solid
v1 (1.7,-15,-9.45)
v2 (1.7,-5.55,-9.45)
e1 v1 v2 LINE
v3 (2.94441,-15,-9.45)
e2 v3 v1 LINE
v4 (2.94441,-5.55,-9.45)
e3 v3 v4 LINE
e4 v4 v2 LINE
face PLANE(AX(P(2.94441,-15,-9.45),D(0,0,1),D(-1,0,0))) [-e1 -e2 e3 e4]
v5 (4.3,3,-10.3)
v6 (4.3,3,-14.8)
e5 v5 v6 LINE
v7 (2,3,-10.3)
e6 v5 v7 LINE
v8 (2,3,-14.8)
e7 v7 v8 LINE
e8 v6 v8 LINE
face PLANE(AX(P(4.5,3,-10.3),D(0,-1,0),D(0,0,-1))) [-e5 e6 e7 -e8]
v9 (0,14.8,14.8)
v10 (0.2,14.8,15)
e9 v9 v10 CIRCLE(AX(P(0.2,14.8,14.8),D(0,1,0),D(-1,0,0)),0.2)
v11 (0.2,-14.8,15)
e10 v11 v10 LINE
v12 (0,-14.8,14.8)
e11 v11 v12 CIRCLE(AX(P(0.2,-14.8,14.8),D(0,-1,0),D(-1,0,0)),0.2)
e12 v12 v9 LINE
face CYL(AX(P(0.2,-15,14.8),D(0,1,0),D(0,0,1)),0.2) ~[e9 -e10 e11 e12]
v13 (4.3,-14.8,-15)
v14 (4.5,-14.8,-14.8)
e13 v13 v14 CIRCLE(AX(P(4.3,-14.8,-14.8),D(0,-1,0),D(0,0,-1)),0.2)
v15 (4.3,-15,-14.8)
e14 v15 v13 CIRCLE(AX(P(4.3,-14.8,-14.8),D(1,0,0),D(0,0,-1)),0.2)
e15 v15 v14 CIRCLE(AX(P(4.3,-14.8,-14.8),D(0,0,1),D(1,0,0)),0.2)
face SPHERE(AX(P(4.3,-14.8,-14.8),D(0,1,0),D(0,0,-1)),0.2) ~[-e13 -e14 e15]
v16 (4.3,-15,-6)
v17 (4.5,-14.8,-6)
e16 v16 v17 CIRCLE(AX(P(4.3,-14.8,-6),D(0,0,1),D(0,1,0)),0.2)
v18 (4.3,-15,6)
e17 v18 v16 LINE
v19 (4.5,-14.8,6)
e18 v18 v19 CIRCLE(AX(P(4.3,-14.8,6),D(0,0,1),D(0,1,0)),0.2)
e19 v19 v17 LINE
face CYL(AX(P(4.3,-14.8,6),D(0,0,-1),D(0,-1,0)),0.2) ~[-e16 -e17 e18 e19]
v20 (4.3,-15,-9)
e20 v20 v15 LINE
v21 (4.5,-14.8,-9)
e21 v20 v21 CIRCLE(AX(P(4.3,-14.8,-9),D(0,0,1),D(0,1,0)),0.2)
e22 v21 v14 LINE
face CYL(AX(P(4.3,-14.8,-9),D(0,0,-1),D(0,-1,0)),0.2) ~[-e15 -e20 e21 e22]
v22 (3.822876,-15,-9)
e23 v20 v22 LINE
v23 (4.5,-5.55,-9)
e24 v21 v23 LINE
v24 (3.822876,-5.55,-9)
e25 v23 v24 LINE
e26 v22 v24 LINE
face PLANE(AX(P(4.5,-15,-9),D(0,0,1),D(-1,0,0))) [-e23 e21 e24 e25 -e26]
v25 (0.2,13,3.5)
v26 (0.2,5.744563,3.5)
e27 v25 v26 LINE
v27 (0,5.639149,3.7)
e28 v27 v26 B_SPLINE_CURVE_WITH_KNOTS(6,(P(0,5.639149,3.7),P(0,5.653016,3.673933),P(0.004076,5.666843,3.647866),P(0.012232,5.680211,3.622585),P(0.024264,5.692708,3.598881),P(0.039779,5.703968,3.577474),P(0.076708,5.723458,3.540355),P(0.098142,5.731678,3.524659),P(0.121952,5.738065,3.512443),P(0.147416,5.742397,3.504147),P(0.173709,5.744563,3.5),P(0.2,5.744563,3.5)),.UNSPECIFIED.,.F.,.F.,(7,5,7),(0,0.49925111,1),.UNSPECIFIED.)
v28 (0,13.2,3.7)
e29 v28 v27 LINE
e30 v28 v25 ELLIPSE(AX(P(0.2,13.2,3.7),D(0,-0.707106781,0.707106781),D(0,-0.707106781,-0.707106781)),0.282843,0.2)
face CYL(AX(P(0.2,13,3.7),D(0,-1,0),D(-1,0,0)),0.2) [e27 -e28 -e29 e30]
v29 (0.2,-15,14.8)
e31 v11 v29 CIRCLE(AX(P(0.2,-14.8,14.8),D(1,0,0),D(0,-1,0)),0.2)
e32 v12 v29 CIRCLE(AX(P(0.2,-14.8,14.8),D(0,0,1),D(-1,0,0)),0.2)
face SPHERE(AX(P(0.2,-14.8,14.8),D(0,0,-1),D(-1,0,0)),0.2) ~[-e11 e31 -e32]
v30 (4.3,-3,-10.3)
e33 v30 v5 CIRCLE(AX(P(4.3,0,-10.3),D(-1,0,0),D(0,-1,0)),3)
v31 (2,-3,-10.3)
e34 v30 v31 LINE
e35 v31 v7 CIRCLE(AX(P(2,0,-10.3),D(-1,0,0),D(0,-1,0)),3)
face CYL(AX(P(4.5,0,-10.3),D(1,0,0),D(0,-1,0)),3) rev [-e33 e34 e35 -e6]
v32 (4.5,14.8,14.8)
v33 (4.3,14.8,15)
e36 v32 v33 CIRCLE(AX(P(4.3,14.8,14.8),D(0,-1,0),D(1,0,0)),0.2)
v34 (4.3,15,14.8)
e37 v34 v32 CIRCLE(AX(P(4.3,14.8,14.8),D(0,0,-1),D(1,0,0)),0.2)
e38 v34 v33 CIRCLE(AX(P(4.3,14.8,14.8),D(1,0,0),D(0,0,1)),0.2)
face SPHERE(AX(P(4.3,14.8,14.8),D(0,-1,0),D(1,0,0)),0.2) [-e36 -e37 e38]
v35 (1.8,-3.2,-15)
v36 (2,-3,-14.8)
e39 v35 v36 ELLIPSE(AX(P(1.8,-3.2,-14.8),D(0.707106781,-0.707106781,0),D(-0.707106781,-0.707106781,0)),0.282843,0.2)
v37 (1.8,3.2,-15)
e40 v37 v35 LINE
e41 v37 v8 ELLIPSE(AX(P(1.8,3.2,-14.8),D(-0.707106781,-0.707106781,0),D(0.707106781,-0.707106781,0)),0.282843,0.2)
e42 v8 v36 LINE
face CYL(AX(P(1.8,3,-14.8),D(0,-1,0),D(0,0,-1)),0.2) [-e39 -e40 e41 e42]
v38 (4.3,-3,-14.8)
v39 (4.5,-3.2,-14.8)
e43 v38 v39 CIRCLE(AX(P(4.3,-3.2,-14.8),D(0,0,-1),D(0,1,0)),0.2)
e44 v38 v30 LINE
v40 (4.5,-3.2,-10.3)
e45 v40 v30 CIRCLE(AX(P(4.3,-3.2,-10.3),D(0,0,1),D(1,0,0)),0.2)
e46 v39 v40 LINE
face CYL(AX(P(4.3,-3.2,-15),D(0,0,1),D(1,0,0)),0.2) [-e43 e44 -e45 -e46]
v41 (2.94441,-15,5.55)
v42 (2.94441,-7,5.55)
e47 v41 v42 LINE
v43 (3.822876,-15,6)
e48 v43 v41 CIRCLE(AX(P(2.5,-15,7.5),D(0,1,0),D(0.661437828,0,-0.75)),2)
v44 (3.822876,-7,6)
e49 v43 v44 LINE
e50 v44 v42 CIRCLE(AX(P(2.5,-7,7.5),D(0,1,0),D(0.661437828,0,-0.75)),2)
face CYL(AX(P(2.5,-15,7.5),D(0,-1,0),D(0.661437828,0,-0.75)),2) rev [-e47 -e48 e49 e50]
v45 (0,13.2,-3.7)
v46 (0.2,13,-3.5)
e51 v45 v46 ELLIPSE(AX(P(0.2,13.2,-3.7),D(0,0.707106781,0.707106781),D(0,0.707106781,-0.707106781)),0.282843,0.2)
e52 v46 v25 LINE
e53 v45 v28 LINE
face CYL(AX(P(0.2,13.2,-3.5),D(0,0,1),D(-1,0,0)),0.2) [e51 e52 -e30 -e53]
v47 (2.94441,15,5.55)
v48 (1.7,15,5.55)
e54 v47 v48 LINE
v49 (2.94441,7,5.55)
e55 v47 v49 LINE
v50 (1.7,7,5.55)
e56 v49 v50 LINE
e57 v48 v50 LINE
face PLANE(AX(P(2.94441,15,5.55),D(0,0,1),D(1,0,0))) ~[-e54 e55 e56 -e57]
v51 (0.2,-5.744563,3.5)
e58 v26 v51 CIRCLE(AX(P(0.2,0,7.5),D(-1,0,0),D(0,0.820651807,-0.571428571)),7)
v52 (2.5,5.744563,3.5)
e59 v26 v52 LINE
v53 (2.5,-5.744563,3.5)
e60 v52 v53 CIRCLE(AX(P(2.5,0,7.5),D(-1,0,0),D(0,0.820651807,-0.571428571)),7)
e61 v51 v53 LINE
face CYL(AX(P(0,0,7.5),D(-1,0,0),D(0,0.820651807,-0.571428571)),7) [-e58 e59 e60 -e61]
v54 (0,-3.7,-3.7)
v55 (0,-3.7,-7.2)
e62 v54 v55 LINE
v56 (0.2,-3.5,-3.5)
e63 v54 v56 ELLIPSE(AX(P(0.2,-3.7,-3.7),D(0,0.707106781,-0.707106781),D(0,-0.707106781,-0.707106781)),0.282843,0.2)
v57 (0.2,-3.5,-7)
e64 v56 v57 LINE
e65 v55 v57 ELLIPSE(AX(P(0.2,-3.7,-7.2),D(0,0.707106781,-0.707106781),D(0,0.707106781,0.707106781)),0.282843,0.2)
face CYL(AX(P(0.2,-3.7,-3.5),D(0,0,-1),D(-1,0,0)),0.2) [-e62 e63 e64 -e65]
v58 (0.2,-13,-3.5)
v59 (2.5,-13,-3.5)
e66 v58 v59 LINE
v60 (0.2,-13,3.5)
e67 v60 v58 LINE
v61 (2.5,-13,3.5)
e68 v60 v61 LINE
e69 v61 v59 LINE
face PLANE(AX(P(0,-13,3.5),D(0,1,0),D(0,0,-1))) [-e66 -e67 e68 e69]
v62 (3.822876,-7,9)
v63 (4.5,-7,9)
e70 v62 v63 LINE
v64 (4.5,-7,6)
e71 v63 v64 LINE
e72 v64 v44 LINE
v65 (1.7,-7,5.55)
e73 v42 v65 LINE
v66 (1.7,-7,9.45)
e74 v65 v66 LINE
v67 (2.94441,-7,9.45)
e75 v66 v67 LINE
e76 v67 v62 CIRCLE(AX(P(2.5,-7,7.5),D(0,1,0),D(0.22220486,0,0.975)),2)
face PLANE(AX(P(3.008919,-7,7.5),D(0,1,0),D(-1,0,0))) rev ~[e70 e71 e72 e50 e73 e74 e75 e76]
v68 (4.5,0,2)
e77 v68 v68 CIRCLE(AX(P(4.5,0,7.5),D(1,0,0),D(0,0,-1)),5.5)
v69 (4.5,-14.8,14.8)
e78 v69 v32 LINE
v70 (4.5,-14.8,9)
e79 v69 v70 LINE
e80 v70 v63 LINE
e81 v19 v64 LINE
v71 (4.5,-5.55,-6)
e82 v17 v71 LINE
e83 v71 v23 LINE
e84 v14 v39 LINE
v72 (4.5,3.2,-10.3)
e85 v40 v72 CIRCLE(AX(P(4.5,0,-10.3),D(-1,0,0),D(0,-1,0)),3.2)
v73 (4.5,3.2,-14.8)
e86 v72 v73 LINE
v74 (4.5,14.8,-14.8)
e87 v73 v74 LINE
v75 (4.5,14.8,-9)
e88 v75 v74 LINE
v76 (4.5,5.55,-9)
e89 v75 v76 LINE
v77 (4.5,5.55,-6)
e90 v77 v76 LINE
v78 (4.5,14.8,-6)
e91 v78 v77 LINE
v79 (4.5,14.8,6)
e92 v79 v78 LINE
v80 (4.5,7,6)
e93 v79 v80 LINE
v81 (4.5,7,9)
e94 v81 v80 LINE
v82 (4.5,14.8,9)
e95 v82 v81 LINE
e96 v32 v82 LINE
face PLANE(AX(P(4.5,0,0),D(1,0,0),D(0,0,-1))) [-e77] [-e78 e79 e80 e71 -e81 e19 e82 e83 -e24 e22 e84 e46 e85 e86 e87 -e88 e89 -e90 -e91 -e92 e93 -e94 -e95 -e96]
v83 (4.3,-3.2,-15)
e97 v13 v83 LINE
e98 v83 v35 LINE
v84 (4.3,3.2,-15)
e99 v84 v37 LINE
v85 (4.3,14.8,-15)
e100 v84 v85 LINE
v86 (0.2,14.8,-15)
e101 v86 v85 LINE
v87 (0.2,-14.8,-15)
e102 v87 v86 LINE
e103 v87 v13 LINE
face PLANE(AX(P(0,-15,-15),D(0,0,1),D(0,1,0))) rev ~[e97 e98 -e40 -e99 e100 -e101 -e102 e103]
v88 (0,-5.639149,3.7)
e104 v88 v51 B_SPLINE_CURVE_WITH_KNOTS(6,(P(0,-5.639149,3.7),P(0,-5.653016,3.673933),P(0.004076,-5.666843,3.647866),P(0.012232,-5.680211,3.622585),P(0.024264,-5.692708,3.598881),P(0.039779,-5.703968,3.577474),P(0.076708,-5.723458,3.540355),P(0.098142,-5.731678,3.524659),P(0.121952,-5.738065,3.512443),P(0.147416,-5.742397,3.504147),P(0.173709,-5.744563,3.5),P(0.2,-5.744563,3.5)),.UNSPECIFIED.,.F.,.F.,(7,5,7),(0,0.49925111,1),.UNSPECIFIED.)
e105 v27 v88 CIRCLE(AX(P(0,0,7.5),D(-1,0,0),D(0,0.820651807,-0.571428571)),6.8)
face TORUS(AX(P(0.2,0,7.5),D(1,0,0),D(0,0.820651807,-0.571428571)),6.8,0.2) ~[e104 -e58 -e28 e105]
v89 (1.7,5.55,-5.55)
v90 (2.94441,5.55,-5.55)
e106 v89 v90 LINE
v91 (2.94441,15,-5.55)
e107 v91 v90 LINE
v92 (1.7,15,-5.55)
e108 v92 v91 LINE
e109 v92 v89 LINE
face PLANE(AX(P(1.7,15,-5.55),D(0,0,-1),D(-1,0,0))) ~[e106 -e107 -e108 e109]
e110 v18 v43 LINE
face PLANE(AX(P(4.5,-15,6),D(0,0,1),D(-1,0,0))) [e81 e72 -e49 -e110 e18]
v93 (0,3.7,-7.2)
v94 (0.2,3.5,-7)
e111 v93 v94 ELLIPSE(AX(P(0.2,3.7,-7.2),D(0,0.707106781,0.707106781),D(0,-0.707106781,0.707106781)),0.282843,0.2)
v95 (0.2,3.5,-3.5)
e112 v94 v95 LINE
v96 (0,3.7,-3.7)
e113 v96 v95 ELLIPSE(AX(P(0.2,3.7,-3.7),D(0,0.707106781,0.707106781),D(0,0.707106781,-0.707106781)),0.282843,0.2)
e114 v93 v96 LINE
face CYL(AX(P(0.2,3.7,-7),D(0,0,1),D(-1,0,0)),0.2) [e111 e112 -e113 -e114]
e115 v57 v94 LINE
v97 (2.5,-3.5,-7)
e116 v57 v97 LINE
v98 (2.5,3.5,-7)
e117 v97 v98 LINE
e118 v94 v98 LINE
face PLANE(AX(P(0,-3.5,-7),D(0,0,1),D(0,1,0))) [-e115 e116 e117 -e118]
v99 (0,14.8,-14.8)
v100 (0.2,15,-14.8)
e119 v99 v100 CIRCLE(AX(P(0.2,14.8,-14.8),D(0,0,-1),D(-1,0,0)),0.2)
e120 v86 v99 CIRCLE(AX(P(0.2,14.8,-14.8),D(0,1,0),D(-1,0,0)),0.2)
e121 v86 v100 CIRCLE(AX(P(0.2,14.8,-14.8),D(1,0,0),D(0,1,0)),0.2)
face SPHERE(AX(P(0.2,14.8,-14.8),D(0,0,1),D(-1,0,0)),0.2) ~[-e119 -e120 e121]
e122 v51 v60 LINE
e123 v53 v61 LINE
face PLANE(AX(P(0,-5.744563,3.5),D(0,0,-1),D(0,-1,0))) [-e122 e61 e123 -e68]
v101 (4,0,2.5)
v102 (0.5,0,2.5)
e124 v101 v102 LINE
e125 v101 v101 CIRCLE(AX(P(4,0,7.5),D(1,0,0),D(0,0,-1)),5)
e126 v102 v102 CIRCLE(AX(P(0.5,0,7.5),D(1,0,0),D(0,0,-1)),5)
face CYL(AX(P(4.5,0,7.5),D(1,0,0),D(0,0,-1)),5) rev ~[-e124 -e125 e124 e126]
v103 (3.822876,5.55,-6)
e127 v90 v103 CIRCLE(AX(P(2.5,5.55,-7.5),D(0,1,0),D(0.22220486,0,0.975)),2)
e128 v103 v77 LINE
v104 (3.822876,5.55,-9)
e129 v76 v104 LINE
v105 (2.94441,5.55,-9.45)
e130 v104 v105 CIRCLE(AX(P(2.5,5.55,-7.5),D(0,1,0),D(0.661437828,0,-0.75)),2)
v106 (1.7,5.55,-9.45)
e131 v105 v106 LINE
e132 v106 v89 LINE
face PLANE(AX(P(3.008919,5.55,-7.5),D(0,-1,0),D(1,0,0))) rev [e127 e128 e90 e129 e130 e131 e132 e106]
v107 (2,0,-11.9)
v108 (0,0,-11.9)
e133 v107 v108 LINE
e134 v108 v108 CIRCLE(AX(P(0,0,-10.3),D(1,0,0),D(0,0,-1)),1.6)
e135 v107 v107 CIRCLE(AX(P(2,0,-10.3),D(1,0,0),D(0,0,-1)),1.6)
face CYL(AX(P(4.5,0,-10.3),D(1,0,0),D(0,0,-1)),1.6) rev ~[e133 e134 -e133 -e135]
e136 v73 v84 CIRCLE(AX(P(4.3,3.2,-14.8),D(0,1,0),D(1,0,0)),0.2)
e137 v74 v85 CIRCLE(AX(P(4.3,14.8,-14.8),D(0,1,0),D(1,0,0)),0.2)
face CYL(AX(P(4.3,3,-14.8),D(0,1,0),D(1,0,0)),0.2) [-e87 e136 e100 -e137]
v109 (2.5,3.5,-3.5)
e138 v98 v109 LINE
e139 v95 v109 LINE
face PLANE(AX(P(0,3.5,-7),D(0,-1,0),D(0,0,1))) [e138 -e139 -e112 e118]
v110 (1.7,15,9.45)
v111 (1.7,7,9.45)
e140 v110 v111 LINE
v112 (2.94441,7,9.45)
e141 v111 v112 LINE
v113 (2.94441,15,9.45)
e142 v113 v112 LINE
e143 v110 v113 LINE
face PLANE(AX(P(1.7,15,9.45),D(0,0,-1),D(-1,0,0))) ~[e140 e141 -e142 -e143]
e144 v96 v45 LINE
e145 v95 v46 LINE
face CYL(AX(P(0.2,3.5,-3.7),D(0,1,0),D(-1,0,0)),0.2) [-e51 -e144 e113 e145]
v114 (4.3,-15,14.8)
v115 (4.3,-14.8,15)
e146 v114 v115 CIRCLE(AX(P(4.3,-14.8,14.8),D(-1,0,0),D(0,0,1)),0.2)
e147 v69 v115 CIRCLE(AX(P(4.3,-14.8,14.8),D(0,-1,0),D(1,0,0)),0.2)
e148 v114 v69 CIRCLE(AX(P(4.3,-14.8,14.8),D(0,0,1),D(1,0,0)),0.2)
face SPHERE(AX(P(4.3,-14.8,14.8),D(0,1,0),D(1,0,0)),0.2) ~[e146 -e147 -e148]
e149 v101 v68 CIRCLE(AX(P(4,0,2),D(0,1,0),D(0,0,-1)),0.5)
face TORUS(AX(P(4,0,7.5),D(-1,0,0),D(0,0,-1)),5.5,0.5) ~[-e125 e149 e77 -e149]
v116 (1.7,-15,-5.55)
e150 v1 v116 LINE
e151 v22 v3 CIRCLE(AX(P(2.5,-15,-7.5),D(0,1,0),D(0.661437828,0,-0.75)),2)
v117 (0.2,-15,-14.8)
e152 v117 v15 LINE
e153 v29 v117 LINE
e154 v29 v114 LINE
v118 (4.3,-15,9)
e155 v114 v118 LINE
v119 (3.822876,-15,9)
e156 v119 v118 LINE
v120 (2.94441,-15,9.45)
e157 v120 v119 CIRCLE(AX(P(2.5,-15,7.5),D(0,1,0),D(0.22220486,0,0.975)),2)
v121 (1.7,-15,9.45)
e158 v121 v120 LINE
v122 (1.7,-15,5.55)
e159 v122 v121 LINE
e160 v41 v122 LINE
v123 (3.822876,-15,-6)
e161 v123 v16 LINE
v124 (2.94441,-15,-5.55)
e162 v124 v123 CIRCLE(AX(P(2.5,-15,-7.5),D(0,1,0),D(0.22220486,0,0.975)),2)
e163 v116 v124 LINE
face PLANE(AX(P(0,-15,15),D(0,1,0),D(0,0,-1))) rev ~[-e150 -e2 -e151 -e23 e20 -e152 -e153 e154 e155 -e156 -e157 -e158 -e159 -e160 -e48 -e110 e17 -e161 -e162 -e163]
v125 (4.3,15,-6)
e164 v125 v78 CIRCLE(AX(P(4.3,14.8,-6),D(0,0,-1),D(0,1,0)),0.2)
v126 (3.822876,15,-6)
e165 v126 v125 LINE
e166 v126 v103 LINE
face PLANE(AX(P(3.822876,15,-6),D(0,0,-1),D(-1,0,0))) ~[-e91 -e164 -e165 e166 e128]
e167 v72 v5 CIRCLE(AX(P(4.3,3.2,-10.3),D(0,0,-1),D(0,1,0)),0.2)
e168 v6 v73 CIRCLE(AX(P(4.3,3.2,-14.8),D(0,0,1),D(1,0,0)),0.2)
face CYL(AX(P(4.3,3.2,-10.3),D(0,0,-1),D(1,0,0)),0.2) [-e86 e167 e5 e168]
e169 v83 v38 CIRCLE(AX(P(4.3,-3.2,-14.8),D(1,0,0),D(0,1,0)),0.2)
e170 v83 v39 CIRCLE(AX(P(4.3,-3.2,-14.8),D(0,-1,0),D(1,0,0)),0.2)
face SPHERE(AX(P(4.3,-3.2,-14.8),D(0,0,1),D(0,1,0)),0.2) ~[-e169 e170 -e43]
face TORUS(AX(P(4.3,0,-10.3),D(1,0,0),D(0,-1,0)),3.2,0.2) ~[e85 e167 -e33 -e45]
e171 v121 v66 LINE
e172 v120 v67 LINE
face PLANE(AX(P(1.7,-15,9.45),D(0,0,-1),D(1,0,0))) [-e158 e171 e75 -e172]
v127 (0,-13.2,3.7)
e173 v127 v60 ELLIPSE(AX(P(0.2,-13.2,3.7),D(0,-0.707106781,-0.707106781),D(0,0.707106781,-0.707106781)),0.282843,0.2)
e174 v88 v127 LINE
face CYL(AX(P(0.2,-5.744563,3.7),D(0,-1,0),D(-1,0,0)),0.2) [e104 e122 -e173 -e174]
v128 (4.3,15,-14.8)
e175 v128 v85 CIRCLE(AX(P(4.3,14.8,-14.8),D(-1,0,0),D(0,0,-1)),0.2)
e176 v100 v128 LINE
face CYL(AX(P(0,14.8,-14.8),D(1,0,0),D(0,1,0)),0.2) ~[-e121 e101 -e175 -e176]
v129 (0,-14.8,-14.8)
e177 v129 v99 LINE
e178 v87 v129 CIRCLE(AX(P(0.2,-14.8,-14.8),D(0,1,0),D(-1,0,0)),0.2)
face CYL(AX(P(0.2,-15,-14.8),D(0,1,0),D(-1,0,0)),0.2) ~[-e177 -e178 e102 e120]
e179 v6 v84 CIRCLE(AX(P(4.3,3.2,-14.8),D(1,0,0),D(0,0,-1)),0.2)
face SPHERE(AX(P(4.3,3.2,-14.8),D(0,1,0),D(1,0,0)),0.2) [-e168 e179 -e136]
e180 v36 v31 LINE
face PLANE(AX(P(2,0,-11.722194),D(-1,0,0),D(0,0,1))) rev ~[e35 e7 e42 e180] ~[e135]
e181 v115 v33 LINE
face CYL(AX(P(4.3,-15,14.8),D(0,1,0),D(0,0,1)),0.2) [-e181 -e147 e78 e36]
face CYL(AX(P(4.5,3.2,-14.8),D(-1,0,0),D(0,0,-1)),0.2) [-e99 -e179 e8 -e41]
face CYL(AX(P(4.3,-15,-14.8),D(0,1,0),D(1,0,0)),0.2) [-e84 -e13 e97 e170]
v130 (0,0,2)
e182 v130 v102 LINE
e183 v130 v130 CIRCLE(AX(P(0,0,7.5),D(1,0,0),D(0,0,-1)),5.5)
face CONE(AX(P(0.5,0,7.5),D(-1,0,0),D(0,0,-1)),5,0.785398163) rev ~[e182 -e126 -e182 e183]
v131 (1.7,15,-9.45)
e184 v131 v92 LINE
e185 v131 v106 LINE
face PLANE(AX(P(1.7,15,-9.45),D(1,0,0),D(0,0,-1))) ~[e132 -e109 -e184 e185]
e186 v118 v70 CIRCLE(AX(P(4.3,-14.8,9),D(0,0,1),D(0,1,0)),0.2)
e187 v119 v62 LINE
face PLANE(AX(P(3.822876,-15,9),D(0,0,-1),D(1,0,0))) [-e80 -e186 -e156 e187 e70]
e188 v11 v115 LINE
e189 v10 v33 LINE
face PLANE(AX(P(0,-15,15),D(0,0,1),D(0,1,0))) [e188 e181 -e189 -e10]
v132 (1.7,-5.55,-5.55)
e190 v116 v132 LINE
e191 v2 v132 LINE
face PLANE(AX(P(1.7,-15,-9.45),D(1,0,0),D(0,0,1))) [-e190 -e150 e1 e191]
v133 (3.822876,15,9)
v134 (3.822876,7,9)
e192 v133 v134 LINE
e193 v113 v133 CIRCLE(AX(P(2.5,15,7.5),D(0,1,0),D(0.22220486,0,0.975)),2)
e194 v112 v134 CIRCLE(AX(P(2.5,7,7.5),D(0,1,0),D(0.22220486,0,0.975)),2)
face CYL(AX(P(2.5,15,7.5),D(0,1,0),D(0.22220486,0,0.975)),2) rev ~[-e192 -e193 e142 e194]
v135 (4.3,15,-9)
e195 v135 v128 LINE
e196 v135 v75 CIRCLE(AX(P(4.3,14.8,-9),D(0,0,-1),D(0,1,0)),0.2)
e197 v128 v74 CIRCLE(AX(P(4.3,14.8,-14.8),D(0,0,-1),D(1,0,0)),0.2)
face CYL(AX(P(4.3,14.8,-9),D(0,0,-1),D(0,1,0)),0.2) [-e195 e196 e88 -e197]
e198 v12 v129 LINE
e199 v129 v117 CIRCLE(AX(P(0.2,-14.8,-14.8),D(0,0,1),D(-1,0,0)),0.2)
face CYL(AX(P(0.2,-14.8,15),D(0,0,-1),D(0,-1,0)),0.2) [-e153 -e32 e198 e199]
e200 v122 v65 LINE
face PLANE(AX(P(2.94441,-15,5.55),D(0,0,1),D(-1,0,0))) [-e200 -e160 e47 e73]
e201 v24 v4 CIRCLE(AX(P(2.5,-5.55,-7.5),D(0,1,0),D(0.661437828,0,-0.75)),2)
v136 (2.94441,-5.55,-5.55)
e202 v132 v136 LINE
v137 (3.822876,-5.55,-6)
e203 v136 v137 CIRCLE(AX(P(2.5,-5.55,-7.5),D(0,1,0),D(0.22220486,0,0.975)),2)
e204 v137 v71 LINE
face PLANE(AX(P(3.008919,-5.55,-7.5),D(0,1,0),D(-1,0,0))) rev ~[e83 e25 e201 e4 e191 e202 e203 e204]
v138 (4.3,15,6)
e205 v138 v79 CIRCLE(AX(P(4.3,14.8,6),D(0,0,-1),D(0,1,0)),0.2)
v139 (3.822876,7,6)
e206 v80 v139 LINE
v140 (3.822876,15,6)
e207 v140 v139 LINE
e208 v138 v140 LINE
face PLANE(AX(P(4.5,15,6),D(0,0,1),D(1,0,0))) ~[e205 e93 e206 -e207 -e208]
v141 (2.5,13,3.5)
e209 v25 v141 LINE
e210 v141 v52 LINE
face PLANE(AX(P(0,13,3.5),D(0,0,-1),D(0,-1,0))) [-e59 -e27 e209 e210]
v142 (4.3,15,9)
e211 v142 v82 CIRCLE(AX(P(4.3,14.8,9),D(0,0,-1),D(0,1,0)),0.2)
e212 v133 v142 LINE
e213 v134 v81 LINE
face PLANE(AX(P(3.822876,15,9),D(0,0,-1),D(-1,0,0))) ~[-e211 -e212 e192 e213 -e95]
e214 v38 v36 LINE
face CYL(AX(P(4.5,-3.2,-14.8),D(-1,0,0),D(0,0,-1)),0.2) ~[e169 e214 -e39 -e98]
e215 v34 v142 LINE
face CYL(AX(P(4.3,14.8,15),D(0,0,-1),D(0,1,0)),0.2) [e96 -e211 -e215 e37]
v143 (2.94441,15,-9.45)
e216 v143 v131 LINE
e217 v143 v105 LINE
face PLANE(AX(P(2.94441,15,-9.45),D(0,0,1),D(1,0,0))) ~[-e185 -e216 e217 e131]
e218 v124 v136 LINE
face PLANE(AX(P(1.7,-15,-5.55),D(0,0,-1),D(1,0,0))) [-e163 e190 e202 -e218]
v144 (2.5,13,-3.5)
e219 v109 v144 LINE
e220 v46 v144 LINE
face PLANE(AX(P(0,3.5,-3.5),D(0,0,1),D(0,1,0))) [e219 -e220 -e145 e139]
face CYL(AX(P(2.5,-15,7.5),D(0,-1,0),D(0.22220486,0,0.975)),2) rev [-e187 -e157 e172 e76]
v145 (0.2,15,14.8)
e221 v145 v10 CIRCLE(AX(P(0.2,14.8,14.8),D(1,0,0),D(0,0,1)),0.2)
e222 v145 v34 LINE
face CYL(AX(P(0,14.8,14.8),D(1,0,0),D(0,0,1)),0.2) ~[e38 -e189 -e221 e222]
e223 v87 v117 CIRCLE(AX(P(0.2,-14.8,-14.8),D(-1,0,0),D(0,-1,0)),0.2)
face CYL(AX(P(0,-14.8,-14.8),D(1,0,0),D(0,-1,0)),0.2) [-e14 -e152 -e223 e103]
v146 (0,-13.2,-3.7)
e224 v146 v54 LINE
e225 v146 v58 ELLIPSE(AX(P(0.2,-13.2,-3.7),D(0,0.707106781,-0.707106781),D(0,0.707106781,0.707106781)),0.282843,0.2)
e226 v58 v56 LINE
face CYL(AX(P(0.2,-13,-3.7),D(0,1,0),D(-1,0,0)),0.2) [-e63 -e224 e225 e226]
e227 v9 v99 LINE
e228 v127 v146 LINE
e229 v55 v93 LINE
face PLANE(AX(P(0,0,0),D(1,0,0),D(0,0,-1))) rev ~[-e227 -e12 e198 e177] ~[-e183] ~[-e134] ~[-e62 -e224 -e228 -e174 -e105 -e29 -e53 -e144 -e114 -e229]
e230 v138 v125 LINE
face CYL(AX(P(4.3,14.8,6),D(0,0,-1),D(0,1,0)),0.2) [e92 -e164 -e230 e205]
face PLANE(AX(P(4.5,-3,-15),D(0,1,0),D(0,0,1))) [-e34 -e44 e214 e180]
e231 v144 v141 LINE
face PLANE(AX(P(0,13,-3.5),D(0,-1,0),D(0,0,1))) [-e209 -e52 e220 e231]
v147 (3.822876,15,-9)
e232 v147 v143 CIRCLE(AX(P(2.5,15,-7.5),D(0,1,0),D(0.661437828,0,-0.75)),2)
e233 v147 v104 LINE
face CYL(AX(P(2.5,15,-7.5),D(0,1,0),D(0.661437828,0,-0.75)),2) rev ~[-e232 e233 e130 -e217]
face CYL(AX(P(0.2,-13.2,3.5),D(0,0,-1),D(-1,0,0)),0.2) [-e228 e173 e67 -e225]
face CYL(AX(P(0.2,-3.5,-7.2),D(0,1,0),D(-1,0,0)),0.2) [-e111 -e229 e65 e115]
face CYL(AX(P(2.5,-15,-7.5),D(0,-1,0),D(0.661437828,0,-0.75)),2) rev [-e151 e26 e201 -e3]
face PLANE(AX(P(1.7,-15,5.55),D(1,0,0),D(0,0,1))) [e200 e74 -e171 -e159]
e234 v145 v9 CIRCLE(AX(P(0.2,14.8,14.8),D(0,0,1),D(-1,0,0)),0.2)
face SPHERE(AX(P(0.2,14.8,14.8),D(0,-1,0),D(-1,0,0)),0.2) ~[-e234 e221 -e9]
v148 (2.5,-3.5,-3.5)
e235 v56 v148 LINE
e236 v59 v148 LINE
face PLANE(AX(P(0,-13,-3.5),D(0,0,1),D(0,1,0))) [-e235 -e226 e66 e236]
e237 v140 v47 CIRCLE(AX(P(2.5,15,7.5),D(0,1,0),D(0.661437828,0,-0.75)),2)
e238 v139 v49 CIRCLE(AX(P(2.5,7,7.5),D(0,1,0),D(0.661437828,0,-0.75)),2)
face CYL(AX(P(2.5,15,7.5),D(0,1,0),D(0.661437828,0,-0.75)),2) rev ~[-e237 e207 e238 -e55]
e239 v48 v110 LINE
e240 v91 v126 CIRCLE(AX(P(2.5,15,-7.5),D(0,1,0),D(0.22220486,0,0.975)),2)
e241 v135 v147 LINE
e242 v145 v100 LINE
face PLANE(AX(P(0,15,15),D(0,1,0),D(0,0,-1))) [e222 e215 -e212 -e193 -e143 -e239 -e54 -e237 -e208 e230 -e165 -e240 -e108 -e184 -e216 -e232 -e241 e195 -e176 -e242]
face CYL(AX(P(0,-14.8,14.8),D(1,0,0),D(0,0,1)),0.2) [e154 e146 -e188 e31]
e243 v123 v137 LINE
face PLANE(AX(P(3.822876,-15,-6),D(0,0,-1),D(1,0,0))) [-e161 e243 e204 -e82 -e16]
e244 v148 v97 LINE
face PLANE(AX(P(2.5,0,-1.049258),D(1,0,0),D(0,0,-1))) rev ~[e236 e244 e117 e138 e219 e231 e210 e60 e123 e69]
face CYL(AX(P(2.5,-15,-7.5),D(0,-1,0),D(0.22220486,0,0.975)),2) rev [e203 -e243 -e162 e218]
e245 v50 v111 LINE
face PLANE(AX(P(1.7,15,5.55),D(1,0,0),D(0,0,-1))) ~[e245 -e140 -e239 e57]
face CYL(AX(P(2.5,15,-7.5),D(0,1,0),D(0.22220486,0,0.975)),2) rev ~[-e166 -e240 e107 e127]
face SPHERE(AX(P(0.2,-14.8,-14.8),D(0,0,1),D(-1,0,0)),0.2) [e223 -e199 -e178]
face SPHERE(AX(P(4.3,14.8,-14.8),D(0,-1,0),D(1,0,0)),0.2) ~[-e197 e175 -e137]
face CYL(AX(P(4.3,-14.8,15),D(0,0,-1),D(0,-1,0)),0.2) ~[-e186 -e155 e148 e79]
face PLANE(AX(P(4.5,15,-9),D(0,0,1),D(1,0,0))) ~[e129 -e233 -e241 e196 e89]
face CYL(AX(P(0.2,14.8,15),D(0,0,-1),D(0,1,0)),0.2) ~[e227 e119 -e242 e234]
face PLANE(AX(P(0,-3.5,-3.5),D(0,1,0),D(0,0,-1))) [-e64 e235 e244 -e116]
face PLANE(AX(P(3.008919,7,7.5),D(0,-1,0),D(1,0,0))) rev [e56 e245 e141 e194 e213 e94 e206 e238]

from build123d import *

# Parameters (mm, degrees)
SKETCH_1_W          = 30
SKETCH_1_H          = 30
EXTRUDE_1_DEPTH     = 4.5
SKETCH_2_R          = 5
SKETCH_2_R_2        = 1.6
CUT_EXTRUDE_1_DEPTH = 22.685248442
CUT_EXTRUDE_2_DEPTH = 2.5
CUT_EXTRUDE_3_DEPTH = 8
CUT_EXTRUDE_4_DEPTH = 9.45
CUT_EXTRUDE_5_DEPTH = 2.5
FILLET_1_R          = 0.2
FILLET_2_R          = 0.2
CHAMFER_1_SIZE      = 0.5
FILLET_3_R          = 0.5


with BuildPart() as part:
    # 草图1 → 凸台-拉伸1 (new body)
    with BuildSketch(Plane(origin=(0, 0, 0), x_dir=(0, 0, -1), z_dir=(1, 0, 0))):
        Rectangle(SKETCH_1_W, SKETCH_1_H)
    extrude(amount=EXTRUDE_1_DEPTH)

    # 草图2 → 切除-拉伸1 (cut, through all)
    with BuildSketch(Plane(origin=(4.5, 0, 0), x_dir=(0, 0, -1), z_dir=(1, 0, 0))):
        with Locations((-7.5, 0)):
            Circle(SKETCH_2_R)
        with Locations((10.3, 0)):
            Circle(SKETCH_2_R_2)
    extrude(amount=-CUT_EXTRUDE_1_DEPTH, mode=Mode.SUBTRACT)

    # 草图3 → 切除-拉伸2 (cut)
    with BuildSketch(Plane(origin=(4.5, 0, 0), x_dir=(0, 0, -1), z_dir=(1, 0, 0))):
        with BuildLine():
            Line((10.3, 3), (15, 3))
            Line((15, 3), (15, -3))
            Line((15, -3), (10.3, -3))
            ThreePointArc((10.3, -3), (7.3, 0), (10.3, 3))
        make_face()
    extrude(amount=-CUT_EXTRUDE_2_DEPTH, mode=Mode.SUBTRACT)

    # 草图4 → 切除-拉伸3 (cut)
    with BuildSketch(Plane.XZ.offset(15)):
        with BuildLine():
            Line((1.7, 5.55), (1.7, 9.45))
            Line((1.7, 9.45), (2.944409721, 9.45))
            ThreePointArc((2.944409721, 9.45), (3.411838473, 9.280042303), (3.822875656, 9))
            Line((3.822875656, 9), (4.5, 9))
            Line((4.5, 9), (4.5, 6))
            Line((4.5, 6), (3.822875656, 6))
            ThreePointArc((3.822875656, 6), (3.411838473, 5.719957697), (2.944409721, 5.55))
            Line((2.944409721, 5.55), (1.7, 5.55))
        make_face()
    cut_extrude_3 = extrude(amount=-CUT_EXTRUDE_3_DEPTH, mode=Mode.SUBTRACT)

    # 镜向1: 切除-拉伸3 across plane
    add(cut_extrude_3.mirror(Plane.ZX), mode=Mode.SUBTRACT)

    # 草图5 → 切除-拉伸4 (cut)
    with BuildSketch(Plane.XZ.offset(15)):
        with BuildLine():
            Line((1.7, -9.45), (1.7, -5.55))
            Line((1.7, -5.55), (2.944409721, -5.55))
            ThreePointArc((2.944409721, -5.55), (3.411838473, -5.719957697), (3.822875656, -6))
            Line((3.822875656, -6), (4.5, -6))
            Line((4.5, -6), (4.5, -9))
            Line((4.5, -9), (3.822875656, -9))
            ThreePointArc((3.822875656, -9), (3.411838473, -9.280042303), (2.944409721, -9.45))
            Line((2.944409721, -9.45), (1.7, -9.45))
        make_face()
    cut_extrude_4 = extrude(amount=-CUT_EXTRUDE_4_DEPTH, mode=Mode.SUBTRACT)

    # 镜向2: 切除-拉伸4 across plane
    add(cut_extrude_4.mirror(Plane.ZX), mode=Mode.SUBTRACT)

    # 草图6 → 切除-拉伸5 (cut)
    with BuildSketch(Plane.ZY):
        with BuildLine():
            Line((-3.5, 13), (3.5, 13))
            Line((3.5, 13), (3.5, 5.744562647))
            ThreePointArc((3.5, 5.744562647), (0.5, 0), (3.5, -5.744562647))
            Line((3.5, -5.744562647), (3.5, -13))
            Line((3.5, -13), (-3.5, -13))
            Line((-3.5, -13), (-3.5, -3.5))
            Line((-3.5, -3.5), (-7, -3.5))
            Line((-7, -3.5), (-7, 3.5))
            Line((-7, 3.5), (-3.5, 3.5))
            Line((-3.5, 3.5), (-3.5, 13))
        make_face()
    extrude(amount=-CUT_EXTRUDE_5_DEPTH, mode=Mode.SUBTRACT)

    # 圆角1
    fillet_1_edges = [part.edges().sort_by_distance(p)[0] for p in [
        (4.5, 0, 15),
        (4.5, 15, 0),
        (4.5, -15, 12),
        (4.5, 9, -15),
        (4.5, 0, -7.3),
        (4.5, -3, -12.65),
        (4.5, 3, -12.65),
        (2, 0, -15),
        (3.25, 3, -15),
        (3.25, -3, -15),
        (4.5, -15, 0),
        (4.5, -9, -15),
        (0, -15, 0),
        (0, 0, 15),
        (0, 15, 0),
        (0, 0, -15),
        (4.5, 15, 12),
        (4.5, 15, -12),
        (2.25, -15, -15),
        (2.25, -15, 15),
        (2.25, 15, 15),
        (2.25, 15, -15),
        (4.5, -15, -12),
    ]]
    fillet(fillet_1_edges, radius=FILLET_1_R)

    # 圆角2
    fillet_2_edges = [part.edges().sort_by_distance(p)[0] for p in [
        (0, 8.25, -3.5),
        (0, 3.5, -5.25),
        (0, 0, -7),
        (0, -3.5, -5.25),
        (0, -8.25, -3.5),
        (0, -13, 0),
        (0, -9.372281323, 3.5),
        (0, 0, 0.5),
        (0, 9.372281323, 3.5),
        (0, 13, 0),
    ]]
    fillet(fillet_2_edges, radius=FILLET_2_R)

    # 倒角1
    chamfer_1_edges = [part.edges().sort_by_distance(p)[0] for p in [
        (0, 0, 12.5),
    ]]
    chamfer(chamfer_1_edges, length=CHAMFER_1_SIZE)

    # 圆角3
    fillet_3_edges = [part.edges().sort_by_distance(p)[0] for p in [
        (4.5, 0, 12.5),
    ]]
    fillet(fillet_3_edges, radius=FILLET_3_R)


solid = part.part
